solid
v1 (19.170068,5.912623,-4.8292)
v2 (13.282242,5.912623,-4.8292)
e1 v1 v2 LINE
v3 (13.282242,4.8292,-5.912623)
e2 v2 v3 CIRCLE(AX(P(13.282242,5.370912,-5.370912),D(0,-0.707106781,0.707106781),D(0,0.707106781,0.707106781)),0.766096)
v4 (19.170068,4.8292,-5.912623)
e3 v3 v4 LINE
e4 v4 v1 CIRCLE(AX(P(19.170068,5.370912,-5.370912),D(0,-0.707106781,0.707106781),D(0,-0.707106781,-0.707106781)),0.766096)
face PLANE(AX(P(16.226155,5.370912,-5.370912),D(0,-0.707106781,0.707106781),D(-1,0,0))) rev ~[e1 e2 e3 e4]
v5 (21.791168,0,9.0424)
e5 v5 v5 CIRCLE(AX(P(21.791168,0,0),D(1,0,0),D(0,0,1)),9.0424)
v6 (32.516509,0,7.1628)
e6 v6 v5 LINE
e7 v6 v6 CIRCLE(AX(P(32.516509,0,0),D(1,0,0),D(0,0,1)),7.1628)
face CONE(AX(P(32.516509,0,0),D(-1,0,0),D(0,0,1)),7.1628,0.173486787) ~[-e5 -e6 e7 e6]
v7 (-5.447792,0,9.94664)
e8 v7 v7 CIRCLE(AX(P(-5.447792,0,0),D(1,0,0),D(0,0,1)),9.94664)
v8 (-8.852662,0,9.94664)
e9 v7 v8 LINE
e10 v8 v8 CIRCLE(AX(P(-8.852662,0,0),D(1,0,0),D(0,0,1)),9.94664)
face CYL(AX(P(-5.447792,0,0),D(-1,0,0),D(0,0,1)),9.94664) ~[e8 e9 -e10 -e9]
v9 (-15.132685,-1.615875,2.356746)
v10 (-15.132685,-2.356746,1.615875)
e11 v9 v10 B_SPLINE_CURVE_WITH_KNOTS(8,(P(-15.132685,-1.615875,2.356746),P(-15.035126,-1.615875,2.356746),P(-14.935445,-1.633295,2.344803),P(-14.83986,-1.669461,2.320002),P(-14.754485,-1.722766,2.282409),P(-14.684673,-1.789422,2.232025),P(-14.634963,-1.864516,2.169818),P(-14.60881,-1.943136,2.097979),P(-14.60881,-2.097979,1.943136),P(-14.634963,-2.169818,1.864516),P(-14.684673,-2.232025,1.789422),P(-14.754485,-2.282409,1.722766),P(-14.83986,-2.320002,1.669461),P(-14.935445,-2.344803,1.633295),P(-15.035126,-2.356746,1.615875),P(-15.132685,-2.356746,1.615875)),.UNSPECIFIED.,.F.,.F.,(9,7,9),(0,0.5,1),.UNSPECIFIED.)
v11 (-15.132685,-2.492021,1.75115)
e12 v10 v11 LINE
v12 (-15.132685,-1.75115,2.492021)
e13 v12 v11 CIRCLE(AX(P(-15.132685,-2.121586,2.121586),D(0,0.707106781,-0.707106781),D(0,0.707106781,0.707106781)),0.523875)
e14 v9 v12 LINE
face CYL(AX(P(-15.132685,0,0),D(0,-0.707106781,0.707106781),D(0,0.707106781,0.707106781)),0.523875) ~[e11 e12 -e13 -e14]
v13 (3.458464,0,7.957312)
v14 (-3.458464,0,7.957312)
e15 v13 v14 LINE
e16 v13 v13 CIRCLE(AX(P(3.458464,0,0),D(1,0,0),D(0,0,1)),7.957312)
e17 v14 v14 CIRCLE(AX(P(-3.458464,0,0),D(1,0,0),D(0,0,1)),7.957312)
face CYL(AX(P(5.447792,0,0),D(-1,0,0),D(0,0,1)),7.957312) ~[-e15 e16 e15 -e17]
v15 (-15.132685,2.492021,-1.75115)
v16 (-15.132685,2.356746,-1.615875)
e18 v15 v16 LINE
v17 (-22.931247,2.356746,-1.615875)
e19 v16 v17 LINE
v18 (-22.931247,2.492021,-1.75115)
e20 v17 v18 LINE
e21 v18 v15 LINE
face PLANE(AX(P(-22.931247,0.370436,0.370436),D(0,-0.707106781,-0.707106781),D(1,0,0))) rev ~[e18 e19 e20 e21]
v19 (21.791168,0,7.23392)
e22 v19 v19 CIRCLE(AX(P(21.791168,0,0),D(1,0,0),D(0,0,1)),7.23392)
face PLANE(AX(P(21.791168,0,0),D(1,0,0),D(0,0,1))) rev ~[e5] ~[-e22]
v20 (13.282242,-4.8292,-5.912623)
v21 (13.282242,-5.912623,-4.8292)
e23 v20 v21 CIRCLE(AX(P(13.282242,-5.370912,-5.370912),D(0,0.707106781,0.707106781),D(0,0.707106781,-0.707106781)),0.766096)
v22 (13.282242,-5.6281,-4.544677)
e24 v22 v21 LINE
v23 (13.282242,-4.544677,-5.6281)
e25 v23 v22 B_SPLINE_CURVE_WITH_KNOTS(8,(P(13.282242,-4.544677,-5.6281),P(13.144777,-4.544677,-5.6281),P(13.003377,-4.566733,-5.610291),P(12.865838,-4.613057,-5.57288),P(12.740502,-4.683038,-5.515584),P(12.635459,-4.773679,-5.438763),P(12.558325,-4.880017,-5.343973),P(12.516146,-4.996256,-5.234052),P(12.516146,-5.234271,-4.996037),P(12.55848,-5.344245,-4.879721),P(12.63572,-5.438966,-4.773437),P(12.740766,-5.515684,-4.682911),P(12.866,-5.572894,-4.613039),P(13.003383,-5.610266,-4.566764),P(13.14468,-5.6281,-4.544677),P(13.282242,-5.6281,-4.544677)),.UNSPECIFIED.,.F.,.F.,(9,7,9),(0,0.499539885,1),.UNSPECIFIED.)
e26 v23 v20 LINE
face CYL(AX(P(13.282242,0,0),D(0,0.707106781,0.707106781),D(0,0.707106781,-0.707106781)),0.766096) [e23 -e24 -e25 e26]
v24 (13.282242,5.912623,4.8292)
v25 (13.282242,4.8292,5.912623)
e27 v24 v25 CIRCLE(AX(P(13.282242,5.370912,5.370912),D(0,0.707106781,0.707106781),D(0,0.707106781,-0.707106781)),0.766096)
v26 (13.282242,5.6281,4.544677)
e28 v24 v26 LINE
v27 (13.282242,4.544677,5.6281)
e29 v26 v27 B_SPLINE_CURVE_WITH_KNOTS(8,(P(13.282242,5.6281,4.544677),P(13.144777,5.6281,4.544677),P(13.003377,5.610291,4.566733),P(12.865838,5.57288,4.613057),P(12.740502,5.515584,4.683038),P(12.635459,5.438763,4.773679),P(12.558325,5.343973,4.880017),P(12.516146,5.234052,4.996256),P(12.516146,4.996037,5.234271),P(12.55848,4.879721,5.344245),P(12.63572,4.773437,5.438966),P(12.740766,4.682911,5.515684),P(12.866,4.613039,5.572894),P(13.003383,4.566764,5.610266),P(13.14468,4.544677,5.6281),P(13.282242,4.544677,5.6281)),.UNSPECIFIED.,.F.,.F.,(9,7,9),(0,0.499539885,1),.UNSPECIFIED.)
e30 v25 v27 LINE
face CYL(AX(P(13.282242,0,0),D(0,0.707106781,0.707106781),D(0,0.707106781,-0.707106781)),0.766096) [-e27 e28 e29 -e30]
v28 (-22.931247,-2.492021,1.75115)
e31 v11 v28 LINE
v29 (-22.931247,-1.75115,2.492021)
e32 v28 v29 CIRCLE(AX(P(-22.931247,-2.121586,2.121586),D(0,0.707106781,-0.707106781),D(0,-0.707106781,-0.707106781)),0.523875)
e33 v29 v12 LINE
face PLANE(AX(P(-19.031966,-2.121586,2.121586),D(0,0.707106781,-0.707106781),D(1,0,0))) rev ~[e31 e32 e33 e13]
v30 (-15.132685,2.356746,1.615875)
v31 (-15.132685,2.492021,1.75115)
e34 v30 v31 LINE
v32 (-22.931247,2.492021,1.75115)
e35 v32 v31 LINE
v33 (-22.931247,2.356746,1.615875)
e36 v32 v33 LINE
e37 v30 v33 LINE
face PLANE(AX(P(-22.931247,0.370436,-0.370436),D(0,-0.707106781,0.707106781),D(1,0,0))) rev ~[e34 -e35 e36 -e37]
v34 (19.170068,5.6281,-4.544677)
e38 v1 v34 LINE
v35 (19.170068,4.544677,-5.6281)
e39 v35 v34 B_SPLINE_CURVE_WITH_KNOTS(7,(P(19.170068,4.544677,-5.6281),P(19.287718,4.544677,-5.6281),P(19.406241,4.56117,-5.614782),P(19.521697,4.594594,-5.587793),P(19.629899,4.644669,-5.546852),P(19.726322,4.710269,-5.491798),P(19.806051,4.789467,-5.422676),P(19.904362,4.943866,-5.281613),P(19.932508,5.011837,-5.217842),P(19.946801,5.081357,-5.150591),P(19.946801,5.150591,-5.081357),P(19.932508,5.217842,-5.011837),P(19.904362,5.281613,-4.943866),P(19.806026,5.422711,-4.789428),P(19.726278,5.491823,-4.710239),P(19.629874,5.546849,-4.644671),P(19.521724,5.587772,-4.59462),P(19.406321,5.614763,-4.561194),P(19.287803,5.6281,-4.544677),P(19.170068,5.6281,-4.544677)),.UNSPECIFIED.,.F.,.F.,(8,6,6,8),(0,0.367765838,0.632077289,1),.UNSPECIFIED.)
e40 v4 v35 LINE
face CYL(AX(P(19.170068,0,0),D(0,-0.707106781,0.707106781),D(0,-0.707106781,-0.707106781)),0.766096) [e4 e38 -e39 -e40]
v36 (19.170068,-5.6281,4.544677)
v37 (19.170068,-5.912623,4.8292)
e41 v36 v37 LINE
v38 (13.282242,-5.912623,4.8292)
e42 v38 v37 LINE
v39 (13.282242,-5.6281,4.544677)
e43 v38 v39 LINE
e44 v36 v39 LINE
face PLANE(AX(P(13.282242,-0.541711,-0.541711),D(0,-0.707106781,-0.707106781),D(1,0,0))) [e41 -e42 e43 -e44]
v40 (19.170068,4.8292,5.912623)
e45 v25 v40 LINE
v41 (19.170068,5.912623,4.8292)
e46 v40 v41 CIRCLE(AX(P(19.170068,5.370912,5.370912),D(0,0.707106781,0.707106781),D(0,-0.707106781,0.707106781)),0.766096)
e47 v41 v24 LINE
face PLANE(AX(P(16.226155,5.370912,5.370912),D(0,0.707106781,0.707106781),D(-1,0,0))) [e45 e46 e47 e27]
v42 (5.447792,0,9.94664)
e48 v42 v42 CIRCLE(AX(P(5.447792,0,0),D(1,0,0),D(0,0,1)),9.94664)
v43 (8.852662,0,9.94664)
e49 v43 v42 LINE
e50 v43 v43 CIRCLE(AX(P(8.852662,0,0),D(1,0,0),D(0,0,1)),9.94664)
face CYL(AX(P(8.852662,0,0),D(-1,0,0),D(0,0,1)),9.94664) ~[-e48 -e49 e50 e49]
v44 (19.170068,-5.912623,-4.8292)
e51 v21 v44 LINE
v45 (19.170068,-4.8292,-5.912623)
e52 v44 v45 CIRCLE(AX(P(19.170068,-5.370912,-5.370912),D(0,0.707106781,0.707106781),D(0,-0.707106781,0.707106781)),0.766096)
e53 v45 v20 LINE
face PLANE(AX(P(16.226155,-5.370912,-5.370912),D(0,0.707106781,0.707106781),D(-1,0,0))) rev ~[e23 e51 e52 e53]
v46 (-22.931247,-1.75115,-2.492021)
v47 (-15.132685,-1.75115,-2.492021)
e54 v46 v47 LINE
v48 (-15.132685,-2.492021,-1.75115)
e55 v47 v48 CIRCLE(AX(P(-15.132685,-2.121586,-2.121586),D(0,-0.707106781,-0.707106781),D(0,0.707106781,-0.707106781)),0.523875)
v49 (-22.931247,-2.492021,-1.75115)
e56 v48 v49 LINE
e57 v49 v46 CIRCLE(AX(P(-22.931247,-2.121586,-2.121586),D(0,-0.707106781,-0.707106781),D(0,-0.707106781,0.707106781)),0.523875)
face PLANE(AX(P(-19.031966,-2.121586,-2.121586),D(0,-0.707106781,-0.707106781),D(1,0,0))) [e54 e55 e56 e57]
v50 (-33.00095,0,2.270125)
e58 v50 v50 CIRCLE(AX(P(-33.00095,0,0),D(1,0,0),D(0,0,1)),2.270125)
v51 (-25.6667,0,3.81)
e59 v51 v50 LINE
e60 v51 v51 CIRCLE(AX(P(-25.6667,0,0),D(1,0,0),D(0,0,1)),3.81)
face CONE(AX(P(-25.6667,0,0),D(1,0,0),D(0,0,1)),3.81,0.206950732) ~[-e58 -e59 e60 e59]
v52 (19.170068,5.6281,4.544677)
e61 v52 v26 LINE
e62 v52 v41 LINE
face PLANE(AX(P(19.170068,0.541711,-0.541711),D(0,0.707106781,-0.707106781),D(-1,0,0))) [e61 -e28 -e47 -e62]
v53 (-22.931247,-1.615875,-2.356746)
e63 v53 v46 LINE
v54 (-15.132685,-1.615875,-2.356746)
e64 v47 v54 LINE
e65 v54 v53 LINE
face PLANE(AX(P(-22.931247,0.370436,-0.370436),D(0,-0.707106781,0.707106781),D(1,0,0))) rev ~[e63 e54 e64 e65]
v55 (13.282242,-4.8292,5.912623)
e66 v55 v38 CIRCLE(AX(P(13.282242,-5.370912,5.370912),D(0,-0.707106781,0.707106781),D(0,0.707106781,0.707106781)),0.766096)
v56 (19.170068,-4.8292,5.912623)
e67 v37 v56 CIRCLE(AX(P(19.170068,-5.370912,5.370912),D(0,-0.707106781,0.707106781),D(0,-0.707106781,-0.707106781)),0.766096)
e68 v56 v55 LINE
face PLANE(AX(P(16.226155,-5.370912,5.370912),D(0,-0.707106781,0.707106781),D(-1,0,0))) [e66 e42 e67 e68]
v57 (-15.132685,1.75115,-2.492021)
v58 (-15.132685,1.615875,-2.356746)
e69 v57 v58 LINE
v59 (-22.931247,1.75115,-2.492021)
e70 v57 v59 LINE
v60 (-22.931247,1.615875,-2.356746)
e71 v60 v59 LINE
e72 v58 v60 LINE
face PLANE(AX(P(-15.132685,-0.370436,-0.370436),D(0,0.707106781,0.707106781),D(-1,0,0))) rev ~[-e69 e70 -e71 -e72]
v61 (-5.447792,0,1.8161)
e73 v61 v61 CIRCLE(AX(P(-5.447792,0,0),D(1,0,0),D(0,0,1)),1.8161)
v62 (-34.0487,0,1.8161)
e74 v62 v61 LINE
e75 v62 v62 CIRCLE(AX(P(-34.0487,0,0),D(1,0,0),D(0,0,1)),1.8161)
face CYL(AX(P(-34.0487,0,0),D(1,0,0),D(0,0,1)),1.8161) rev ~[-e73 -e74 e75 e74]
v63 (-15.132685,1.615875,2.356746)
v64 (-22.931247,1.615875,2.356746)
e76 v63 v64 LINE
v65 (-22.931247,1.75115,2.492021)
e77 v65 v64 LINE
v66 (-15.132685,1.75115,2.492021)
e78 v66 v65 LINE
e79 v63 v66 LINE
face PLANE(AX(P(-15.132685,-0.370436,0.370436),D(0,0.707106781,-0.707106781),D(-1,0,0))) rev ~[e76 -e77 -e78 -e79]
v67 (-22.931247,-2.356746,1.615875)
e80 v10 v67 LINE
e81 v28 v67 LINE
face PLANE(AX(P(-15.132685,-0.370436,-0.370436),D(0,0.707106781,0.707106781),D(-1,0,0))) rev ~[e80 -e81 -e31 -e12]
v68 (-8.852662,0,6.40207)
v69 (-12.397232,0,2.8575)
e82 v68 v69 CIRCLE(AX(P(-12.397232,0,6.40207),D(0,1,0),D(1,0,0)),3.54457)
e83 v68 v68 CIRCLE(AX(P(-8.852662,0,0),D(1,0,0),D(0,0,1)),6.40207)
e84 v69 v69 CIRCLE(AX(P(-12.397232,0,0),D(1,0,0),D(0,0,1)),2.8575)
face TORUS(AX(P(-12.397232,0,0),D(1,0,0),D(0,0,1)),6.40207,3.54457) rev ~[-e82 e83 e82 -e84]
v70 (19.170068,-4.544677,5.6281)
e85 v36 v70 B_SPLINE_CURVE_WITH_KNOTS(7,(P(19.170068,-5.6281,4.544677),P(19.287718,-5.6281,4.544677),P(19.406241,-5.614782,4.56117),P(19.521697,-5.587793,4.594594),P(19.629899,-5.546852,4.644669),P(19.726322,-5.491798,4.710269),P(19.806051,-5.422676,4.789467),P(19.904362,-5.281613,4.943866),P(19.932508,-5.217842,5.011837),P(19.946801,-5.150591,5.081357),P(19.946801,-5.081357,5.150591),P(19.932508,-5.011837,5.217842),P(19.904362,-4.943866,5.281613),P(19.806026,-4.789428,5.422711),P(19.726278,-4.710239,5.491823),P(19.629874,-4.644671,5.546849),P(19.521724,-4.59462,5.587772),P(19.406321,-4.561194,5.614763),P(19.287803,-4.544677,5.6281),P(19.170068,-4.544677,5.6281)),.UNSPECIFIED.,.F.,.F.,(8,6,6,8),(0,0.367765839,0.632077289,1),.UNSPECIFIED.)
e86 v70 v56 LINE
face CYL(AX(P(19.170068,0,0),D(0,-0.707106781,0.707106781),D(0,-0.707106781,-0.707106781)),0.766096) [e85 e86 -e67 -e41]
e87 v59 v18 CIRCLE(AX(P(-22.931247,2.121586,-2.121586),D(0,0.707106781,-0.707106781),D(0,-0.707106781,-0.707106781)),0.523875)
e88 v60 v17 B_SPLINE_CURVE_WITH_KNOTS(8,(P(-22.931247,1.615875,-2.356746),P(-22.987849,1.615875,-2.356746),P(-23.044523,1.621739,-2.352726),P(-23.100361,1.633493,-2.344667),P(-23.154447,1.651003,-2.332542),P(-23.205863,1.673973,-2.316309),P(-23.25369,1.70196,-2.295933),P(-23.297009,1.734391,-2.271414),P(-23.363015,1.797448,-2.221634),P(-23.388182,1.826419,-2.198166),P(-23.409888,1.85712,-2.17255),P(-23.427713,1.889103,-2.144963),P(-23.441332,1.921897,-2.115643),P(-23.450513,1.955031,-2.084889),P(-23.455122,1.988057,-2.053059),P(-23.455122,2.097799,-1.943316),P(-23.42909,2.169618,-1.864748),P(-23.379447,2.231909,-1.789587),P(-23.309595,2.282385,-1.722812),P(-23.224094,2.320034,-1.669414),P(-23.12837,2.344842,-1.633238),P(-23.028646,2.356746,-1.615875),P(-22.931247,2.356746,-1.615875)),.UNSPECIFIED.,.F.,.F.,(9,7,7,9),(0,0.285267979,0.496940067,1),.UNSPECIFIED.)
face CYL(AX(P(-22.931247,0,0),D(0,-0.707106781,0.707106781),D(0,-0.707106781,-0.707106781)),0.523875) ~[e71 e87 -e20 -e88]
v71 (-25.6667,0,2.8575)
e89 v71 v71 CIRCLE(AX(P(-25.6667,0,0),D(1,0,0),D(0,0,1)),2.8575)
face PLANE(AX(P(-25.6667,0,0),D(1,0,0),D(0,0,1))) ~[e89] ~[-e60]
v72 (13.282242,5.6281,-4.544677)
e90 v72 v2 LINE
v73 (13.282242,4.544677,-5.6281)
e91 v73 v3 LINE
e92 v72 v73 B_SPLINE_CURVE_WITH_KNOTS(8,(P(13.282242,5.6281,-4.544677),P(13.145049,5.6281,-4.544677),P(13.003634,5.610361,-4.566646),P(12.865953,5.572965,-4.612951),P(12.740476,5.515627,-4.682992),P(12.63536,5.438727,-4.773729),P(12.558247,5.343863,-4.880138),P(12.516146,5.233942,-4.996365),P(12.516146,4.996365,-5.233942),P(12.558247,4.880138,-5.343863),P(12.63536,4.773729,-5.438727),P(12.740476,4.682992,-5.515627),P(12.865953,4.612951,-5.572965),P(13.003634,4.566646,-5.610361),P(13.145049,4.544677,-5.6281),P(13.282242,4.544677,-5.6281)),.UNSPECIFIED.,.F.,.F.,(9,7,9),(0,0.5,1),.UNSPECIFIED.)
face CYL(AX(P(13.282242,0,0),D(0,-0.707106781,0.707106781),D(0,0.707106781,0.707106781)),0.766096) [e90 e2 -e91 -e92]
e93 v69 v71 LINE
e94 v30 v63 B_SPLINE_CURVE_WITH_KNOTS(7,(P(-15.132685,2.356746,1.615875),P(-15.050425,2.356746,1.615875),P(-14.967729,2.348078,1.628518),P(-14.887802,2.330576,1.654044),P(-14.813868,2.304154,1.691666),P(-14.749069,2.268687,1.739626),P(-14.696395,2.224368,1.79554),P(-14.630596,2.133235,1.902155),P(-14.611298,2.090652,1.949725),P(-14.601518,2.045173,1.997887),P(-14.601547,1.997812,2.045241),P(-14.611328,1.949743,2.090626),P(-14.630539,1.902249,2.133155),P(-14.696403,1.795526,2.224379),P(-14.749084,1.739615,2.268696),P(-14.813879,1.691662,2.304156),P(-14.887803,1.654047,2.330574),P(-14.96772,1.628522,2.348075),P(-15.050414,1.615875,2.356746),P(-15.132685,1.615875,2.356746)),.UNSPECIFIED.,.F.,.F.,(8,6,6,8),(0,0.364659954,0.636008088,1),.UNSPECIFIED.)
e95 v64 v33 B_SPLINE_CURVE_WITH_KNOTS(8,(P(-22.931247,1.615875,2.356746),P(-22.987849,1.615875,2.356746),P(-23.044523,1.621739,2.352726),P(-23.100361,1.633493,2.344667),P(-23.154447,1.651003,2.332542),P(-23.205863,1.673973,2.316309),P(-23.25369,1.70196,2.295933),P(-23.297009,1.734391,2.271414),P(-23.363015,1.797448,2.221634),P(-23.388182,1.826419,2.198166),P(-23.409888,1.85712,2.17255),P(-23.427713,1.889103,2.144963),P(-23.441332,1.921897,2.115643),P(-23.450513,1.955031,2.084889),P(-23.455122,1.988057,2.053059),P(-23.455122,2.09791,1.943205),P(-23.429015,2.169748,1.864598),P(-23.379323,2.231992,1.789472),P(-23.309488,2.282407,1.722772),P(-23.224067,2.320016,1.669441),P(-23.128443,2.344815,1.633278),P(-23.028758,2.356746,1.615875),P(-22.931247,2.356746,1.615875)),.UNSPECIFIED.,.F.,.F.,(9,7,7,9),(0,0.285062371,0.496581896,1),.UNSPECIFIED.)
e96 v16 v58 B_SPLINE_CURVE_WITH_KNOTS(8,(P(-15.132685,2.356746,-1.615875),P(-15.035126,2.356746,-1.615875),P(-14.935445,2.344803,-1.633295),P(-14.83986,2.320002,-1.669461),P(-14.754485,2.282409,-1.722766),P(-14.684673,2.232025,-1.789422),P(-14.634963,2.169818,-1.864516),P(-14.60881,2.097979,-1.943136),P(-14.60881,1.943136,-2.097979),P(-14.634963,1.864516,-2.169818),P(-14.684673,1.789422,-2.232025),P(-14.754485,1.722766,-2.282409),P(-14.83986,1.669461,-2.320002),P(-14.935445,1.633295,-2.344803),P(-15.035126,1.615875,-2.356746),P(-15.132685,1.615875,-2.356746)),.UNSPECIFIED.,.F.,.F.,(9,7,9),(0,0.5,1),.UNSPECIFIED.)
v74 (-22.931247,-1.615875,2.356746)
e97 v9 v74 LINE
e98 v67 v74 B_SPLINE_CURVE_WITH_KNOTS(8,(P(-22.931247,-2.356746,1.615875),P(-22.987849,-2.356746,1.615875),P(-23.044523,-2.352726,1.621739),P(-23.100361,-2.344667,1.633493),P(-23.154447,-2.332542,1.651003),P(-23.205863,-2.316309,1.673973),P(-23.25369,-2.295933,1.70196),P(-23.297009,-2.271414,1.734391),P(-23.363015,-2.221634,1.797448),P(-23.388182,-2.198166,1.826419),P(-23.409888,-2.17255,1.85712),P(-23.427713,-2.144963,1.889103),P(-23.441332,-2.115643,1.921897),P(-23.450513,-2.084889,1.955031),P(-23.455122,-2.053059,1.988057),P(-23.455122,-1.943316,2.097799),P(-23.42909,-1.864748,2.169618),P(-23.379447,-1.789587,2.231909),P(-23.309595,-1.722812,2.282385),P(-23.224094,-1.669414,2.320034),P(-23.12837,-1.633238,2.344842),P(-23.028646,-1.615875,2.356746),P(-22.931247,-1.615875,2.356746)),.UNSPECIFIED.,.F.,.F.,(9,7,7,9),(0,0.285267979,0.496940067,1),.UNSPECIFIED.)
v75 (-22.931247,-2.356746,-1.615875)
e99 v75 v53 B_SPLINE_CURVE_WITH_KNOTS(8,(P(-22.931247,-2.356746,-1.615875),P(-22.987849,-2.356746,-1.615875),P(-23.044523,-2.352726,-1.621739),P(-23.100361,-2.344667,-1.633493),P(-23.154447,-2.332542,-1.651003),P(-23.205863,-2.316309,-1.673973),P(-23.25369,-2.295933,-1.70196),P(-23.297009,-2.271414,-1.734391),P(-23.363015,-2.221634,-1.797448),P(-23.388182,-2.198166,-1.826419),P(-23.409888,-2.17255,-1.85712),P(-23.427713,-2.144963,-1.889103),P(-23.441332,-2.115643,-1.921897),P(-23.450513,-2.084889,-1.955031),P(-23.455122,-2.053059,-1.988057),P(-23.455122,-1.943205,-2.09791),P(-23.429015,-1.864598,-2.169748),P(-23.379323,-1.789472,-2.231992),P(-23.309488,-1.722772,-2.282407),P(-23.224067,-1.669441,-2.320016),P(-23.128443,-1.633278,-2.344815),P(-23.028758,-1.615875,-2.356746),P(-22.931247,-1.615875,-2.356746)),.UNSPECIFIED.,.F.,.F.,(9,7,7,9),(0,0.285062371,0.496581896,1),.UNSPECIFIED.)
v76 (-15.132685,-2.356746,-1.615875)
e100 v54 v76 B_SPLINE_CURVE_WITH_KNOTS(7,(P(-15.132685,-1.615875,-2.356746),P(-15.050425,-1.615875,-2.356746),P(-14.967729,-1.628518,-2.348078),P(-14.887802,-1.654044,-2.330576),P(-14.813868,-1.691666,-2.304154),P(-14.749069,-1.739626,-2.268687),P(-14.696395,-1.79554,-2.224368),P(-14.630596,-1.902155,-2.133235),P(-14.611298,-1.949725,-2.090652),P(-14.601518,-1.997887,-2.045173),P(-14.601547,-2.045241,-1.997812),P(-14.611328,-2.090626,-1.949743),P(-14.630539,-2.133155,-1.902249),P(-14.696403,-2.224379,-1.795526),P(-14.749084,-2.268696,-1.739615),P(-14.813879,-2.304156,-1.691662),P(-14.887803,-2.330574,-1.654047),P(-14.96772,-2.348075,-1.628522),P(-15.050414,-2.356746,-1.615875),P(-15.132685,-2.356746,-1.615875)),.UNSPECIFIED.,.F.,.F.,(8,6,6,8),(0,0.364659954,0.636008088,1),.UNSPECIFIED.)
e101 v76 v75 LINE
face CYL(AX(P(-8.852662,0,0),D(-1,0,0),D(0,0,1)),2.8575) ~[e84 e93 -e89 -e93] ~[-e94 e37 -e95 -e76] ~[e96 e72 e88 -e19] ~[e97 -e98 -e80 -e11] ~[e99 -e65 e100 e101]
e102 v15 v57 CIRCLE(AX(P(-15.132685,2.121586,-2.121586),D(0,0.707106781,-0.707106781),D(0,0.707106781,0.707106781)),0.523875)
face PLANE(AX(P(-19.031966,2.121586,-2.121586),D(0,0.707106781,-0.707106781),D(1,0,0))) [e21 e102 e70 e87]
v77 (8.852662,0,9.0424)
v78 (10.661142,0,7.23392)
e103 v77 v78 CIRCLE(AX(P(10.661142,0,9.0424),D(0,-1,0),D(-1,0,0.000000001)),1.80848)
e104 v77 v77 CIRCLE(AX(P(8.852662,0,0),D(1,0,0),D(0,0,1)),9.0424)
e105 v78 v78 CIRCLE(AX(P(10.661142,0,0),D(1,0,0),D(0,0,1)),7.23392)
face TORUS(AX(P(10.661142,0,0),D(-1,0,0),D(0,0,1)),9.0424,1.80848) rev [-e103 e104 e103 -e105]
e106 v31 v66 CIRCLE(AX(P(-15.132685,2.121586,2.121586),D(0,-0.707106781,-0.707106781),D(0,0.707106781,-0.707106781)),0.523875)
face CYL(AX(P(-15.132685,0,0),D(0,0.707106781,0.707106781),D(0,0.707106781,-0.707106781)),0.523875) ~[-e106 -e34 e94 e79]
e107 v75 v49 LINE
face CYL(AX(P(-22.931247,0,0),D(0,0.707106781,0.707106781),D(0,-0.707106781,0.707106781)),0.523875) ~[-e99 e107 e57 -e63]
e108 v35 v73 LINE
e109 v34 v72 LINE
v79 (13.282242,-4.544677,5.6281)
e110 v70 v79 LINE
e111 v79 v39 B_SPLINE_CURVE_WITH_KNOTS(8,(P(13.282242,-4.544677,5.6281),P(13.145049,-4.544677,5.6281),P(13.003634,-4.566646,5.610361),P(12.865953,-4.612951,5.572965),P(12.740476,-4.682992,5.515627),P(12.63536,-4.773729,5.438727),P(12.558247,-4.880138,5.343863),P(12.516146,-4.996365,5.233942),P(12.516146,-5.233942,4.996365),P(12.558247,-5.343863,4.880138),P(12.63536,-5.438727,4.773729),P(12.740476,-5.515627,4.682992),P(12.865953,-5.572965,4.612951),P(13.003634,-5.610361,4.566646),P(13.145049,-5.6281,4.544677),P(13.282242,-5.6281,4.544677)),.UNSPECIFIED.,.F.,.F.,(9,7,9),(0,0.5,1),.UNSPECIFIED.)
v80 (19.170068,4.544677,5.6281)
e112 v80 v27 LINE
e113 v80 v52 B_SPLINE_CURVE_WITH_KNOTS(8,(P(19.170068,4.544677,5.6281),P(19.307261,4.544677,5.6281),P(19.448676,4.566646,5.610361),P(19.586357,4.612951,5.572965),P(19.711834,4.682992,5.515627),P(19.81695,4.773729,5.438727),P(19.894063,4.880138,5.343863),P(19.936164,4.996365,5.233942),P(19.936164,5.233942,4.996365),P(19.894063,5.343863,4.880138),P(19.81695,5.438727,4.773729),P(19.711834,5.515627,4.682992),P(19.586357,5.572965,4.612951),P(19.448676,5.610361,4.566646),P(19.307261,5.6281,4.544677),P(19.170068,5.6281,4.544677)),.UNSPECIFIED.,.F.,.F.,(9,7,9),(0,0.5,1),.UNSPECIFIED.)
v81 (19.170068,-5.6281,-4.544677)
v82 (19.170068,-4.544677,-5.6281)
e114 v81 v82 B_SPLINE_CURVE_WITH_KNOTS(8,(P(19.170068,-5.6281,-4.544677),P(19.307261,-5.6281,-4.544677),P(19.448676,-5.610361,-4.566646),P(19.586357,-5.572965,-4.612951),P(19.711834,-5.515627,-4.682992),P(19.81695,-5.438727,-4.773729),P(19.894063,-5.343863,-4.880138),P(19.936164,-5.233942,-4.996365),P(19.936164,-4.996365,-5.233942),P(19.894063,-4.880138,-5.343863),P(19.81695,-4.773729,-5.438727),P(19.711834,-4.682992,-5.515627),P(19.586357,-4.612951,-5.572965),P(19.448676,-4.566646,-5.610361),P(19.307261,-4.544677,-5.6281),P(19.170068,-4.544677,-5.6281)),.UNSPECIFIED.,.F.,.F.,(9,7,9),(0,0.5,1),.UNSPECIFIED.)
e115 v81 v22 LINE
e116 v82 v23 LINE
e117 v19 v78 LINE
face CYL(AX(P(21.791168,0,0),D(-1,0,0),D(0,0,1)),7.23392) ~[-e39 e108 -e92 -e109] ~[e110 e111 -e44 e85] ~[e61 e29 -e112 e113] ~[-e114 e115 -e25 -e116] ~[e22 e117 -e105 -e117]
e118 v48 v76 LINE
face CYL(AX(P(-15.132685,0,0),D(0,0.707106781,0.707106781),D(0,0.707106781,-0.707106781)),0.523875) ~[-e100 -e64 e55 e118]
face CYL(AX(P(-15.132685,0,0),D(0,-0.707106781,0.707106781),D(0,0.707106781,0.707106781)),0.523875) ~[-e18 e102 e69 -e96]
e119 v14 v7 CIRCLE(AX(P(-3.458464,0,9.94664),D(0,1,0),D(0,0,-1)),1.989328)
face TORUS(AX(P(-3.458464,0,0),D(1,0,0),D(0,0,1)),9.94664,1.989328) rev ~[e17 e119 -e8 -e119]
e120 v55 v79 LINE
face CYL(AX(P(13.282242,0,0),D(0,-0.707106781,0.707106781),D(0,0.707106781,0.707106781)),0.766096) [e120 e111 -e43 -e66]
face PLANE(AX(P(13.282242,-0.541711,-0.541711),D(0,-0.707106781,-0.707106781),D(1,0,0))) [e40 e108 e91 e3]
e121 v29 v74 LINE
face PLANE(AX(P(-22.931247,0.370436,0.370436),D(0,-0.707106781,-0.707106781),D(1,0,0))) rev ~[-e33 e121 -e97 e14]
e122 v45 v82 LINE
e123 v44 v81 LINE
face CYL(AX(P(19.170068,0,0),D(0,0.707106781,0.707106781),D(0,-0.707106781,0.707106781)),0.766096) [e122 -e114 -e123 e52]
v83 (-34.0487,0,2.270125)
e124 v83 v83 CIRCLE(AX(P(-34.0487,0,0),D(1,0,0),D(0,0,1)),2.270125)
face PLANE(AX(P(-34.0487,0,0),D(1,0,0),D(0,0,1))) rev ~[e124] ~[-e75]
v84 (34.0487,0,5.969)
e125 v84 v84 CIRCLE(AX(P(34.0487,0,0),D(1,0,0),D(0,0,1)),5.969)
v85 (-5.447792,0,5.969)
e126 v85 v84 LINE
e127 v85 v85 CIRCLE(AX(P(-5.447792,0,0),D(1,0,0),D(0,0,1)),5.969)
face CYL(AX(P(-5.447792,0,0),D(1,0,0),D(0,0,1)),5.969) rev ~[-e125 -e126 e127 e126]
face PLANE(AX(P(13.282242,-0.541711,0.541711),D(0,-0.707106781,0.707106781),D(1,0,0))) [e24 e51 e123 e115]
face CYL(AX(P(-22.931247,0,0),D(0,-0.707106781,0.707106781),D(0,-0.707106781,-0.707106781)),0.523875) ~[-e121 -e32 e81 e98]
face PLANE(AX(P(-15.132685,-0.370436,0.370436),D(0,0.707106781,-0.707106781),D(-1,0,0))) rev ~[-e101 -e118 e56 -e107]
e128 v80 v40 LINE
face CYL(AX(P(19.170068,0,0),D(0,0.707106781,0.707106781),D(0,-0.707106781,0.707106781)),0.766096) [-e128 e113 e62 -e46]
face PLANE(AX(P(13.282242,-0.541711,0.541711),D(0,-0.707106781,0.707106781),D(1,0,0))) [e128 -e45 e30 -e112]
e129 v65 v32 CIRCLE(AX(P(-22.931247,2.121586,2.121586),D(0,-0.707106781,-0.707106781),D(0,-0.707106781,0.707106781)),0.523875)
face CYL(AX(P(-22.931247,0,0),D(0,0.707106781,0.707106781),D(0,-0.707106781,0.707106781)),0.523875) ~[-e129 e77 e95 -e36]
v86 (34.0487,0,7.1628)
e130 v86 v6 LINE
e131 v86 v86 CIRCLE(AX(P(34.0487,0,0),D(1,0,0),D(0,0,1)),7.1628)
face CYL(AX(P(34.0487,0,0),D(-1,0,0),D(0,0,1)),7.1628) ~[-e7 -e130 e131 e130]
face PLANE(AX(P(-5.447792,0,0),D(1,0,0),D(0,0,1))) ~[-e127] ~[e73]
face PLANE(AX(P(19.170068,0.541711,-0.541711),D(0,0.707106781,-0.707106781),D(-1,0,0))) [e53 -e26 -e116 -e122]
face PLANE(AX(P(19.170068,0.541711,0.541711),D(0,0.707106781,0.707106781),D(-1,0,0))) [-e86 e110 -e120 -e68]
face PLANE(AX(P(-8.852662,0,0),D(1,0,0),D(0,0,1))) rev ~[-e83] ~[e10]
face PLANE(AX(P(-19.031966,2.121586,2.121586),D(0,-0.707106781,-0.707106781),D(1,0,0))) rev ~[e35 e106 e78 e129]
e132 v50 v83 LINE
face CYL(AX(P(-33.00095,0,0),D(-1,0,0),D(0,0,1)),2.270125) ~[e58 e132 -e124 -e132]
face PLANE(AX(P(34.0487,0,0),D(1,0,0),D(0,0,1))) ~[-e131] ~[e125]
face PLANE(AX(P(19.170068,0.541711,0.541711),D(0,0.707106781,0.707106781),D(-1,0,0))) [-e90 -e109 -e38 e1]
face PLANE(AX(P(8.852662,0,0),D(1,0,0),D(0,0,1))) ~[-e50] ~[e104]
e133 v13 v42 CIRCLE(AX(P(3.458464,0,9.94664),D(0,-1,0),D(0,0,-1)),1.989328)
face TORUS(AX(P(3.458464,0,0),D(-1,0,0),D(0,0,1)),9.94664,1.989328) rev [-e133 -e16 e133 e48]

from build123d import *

# Parameters (mm, degrees)
EXTRUDE1_DEPTH     = 7.595616
EXTRUDE2_DEPTH     = 3.000375
CIRPATTERN1_COUNT  = 2
CIRPATTERN1_ANGLE  = 90
SKETCH4_R          = 5.969
CUT_EXTRUDE1_DEPTH = 39.496492
SKETCH7_R          = 1.8161
CUT_EXTRUDE2_DEPTH = 70.535078783


with BuildPart() as part:
    # Sketch1 → Revolve1 (revolve)
    with BuildSketch(Plane.XY, mode=Mode.PRIVATE) as revolve1_sk:
        Polygon((34.0487, 5.969), (34.0487, 7.1628), (32.5165085, 7.1628), (21.791168, 9.0424), (21.791168, 7.23392), (8.852662, 7.23392), (8.852662, 9.94664), (5.447792, 9.94664), (5.447792, 7.957312), (-5.447792, 7.957312), (-5.447792, 9.94664), (-8.852662, 9.94664), (-8.852662, 2.8575), (-25.6667, 2.8575), (-25.6667, 3.81), (-33.00095, 2.270125), (-34.0487, 2.270125), (-34.0487, 1.8161), (-5.447792, 1.8161), (-5.447792, 5.969), align=None)
    revolve(revolve1_sk.sketch.rotate(Axis((0, 0, 0), (1, 0, 0)), 90), axis=Axis((0, 0, 0), (1, 0, 0)))

    # Sketch2 → Revolve2 (revolve)
    with BuildSketch(Plane.XY, mode=Mode.PRIVATE) as revolve2_sk:
        with BuildLine():
            Line((10.661142, 7.23392), (8.852662, 7.23392))
            Line((8.852662, 7.23392), (8.852662, 9.0424))
            ThreePointArc((8.852662, 9.0424), (9.382353528, 7.763611528), (10.661142, 7.23392))
        make_face()
        with BuildLine():
            Line((5.447792, 9.94664), (5.447792, 7.957312))
            Line((5.447792, 7.957312), (3.458464, 7.957312))
            ThreePointArc((3.458464, 7.957312), (4.865131319, 8.539972681), (5.447792, 9.94664))
        make_face()
        with BuildLine():
            Line((-5.447792, 9.94664), (-5.447792, 7.957312))
            Line((-5.447792, 7.957312), (-3.458464, 7.957312))
            ThreePointArc((-3.458464, 7.957312), (-4.865131319, 8.539972681), (-5.447792, 9.94664))
        make_face()
        with BuildLine():
            Line((-12.397232, 2.8575), (-8.852662, 2.8575))
            Line((-8.852662, 2.8575), (-8.852662, 6.40207))
            ThreePointArc((-8.852662, 6.40207), (-9.890842517, 3.895680517), (-12.397232, 2.8575))
        make_face()
    revolve(revolve2_sk.sketch.rotate(Axis((0, 0, 0), (1, 0, 0)), 90), axis=Axis((0, 0, 0), (1, 0, 0)))

    # Sketch3 → Extrude1 (add, symmetric)
    with BuildSketch(Plane(origin=(0, 0, 0), x_dir=(-1, 0, 0), z_dir=(0, 0.7071067811865488, 0.7071067811865462))):
        with BuildLine():
            Line((-13.282242083, 0.76609575), (-19.170067917, 0.76609575))
            ThreePointArc((-19.170067917, 0.76609575), (-19.936163667, 0), (-19.170067917, -0.76609575))
            Line((-19.170067917, -0.76609575), (-13.282242083, -0.76609575))
            ThreePointArc((-13.282242083, -0.76609575), (-12.516146333, 0), (-13.282242083, 0.76609575))
        make_face()
    extrude1 = extrude(amount=EXTRUDE1_DEPTH, both=True)

    # Sketch6 → Extrude2 (add, symmetric)
    with BuildSketch(Plane(origin=(0, 0, 0), x_dir=(-1, 0, 0), z_dir=(0, 0.7071067811865488, 0.7071067811865462))):
        with BuildLine():
            Line((15.132685, 0.523875), (22.931247, 0.523875))
            ThreePointArc((22.931247, 0.523875), (23.455122, 0), (22.931247, -0.523875))
            Line((22.931247, -0.523875), (15.132685, -0.523875))
            ThreePointArc((15.132685, -0.523875), (14.60881, 0), (15.132685, 0.523875))
        make_face()
    extrude2 = extrude(amount=EXTRUDE2_DEPTH, both=True)

    # CirPattern1: Extrude1, Extrude2 ×2 about axis
    cirpattern1_axis = Axis((0, 0, 0), (1, 0, 0))
    add([extrude1.rotate(cirpattern1_axis, i * CIRPATTERN1_ANGLE / (CIRPATTERN1_COUNT - 1)) for i in range(1, CIRPATTERN1_COUNT)])
    add([extrude2.rotate(cirpattern1_axis, i * CIRPATTERN1_ANGLE / (CIRPATTERN1_COUNT - 1)) for i in range(1, CIRPATTERN1_COUNT)])

    # Sketch4 → Cut-Extrude1 (cut)
    with BuildSketch(Plane(origin=(34.0487, 0, 0), x_dir=(0, 0, -1), z_dir=(1, 0, 0))):
        with Locations(Location((0, 0, 0), (0, 0, 180))):
            Circle(SKETCH4_R)
    extrude(amount=-CUT_EXTRUDE1_DEPTH, mode=Mode.SUBTRACT)

    # Sketch7 → Cut-Extrude2 (cut, through all)
    with BuildSketch(Plane.ZY.offset(34.0487)):
        Circle(SKETCH7_R)
    extrude(amount=-CUT_EXTRUDE2_DEPTH, mode=Mode.SUBTRACT)


solid = part.part
